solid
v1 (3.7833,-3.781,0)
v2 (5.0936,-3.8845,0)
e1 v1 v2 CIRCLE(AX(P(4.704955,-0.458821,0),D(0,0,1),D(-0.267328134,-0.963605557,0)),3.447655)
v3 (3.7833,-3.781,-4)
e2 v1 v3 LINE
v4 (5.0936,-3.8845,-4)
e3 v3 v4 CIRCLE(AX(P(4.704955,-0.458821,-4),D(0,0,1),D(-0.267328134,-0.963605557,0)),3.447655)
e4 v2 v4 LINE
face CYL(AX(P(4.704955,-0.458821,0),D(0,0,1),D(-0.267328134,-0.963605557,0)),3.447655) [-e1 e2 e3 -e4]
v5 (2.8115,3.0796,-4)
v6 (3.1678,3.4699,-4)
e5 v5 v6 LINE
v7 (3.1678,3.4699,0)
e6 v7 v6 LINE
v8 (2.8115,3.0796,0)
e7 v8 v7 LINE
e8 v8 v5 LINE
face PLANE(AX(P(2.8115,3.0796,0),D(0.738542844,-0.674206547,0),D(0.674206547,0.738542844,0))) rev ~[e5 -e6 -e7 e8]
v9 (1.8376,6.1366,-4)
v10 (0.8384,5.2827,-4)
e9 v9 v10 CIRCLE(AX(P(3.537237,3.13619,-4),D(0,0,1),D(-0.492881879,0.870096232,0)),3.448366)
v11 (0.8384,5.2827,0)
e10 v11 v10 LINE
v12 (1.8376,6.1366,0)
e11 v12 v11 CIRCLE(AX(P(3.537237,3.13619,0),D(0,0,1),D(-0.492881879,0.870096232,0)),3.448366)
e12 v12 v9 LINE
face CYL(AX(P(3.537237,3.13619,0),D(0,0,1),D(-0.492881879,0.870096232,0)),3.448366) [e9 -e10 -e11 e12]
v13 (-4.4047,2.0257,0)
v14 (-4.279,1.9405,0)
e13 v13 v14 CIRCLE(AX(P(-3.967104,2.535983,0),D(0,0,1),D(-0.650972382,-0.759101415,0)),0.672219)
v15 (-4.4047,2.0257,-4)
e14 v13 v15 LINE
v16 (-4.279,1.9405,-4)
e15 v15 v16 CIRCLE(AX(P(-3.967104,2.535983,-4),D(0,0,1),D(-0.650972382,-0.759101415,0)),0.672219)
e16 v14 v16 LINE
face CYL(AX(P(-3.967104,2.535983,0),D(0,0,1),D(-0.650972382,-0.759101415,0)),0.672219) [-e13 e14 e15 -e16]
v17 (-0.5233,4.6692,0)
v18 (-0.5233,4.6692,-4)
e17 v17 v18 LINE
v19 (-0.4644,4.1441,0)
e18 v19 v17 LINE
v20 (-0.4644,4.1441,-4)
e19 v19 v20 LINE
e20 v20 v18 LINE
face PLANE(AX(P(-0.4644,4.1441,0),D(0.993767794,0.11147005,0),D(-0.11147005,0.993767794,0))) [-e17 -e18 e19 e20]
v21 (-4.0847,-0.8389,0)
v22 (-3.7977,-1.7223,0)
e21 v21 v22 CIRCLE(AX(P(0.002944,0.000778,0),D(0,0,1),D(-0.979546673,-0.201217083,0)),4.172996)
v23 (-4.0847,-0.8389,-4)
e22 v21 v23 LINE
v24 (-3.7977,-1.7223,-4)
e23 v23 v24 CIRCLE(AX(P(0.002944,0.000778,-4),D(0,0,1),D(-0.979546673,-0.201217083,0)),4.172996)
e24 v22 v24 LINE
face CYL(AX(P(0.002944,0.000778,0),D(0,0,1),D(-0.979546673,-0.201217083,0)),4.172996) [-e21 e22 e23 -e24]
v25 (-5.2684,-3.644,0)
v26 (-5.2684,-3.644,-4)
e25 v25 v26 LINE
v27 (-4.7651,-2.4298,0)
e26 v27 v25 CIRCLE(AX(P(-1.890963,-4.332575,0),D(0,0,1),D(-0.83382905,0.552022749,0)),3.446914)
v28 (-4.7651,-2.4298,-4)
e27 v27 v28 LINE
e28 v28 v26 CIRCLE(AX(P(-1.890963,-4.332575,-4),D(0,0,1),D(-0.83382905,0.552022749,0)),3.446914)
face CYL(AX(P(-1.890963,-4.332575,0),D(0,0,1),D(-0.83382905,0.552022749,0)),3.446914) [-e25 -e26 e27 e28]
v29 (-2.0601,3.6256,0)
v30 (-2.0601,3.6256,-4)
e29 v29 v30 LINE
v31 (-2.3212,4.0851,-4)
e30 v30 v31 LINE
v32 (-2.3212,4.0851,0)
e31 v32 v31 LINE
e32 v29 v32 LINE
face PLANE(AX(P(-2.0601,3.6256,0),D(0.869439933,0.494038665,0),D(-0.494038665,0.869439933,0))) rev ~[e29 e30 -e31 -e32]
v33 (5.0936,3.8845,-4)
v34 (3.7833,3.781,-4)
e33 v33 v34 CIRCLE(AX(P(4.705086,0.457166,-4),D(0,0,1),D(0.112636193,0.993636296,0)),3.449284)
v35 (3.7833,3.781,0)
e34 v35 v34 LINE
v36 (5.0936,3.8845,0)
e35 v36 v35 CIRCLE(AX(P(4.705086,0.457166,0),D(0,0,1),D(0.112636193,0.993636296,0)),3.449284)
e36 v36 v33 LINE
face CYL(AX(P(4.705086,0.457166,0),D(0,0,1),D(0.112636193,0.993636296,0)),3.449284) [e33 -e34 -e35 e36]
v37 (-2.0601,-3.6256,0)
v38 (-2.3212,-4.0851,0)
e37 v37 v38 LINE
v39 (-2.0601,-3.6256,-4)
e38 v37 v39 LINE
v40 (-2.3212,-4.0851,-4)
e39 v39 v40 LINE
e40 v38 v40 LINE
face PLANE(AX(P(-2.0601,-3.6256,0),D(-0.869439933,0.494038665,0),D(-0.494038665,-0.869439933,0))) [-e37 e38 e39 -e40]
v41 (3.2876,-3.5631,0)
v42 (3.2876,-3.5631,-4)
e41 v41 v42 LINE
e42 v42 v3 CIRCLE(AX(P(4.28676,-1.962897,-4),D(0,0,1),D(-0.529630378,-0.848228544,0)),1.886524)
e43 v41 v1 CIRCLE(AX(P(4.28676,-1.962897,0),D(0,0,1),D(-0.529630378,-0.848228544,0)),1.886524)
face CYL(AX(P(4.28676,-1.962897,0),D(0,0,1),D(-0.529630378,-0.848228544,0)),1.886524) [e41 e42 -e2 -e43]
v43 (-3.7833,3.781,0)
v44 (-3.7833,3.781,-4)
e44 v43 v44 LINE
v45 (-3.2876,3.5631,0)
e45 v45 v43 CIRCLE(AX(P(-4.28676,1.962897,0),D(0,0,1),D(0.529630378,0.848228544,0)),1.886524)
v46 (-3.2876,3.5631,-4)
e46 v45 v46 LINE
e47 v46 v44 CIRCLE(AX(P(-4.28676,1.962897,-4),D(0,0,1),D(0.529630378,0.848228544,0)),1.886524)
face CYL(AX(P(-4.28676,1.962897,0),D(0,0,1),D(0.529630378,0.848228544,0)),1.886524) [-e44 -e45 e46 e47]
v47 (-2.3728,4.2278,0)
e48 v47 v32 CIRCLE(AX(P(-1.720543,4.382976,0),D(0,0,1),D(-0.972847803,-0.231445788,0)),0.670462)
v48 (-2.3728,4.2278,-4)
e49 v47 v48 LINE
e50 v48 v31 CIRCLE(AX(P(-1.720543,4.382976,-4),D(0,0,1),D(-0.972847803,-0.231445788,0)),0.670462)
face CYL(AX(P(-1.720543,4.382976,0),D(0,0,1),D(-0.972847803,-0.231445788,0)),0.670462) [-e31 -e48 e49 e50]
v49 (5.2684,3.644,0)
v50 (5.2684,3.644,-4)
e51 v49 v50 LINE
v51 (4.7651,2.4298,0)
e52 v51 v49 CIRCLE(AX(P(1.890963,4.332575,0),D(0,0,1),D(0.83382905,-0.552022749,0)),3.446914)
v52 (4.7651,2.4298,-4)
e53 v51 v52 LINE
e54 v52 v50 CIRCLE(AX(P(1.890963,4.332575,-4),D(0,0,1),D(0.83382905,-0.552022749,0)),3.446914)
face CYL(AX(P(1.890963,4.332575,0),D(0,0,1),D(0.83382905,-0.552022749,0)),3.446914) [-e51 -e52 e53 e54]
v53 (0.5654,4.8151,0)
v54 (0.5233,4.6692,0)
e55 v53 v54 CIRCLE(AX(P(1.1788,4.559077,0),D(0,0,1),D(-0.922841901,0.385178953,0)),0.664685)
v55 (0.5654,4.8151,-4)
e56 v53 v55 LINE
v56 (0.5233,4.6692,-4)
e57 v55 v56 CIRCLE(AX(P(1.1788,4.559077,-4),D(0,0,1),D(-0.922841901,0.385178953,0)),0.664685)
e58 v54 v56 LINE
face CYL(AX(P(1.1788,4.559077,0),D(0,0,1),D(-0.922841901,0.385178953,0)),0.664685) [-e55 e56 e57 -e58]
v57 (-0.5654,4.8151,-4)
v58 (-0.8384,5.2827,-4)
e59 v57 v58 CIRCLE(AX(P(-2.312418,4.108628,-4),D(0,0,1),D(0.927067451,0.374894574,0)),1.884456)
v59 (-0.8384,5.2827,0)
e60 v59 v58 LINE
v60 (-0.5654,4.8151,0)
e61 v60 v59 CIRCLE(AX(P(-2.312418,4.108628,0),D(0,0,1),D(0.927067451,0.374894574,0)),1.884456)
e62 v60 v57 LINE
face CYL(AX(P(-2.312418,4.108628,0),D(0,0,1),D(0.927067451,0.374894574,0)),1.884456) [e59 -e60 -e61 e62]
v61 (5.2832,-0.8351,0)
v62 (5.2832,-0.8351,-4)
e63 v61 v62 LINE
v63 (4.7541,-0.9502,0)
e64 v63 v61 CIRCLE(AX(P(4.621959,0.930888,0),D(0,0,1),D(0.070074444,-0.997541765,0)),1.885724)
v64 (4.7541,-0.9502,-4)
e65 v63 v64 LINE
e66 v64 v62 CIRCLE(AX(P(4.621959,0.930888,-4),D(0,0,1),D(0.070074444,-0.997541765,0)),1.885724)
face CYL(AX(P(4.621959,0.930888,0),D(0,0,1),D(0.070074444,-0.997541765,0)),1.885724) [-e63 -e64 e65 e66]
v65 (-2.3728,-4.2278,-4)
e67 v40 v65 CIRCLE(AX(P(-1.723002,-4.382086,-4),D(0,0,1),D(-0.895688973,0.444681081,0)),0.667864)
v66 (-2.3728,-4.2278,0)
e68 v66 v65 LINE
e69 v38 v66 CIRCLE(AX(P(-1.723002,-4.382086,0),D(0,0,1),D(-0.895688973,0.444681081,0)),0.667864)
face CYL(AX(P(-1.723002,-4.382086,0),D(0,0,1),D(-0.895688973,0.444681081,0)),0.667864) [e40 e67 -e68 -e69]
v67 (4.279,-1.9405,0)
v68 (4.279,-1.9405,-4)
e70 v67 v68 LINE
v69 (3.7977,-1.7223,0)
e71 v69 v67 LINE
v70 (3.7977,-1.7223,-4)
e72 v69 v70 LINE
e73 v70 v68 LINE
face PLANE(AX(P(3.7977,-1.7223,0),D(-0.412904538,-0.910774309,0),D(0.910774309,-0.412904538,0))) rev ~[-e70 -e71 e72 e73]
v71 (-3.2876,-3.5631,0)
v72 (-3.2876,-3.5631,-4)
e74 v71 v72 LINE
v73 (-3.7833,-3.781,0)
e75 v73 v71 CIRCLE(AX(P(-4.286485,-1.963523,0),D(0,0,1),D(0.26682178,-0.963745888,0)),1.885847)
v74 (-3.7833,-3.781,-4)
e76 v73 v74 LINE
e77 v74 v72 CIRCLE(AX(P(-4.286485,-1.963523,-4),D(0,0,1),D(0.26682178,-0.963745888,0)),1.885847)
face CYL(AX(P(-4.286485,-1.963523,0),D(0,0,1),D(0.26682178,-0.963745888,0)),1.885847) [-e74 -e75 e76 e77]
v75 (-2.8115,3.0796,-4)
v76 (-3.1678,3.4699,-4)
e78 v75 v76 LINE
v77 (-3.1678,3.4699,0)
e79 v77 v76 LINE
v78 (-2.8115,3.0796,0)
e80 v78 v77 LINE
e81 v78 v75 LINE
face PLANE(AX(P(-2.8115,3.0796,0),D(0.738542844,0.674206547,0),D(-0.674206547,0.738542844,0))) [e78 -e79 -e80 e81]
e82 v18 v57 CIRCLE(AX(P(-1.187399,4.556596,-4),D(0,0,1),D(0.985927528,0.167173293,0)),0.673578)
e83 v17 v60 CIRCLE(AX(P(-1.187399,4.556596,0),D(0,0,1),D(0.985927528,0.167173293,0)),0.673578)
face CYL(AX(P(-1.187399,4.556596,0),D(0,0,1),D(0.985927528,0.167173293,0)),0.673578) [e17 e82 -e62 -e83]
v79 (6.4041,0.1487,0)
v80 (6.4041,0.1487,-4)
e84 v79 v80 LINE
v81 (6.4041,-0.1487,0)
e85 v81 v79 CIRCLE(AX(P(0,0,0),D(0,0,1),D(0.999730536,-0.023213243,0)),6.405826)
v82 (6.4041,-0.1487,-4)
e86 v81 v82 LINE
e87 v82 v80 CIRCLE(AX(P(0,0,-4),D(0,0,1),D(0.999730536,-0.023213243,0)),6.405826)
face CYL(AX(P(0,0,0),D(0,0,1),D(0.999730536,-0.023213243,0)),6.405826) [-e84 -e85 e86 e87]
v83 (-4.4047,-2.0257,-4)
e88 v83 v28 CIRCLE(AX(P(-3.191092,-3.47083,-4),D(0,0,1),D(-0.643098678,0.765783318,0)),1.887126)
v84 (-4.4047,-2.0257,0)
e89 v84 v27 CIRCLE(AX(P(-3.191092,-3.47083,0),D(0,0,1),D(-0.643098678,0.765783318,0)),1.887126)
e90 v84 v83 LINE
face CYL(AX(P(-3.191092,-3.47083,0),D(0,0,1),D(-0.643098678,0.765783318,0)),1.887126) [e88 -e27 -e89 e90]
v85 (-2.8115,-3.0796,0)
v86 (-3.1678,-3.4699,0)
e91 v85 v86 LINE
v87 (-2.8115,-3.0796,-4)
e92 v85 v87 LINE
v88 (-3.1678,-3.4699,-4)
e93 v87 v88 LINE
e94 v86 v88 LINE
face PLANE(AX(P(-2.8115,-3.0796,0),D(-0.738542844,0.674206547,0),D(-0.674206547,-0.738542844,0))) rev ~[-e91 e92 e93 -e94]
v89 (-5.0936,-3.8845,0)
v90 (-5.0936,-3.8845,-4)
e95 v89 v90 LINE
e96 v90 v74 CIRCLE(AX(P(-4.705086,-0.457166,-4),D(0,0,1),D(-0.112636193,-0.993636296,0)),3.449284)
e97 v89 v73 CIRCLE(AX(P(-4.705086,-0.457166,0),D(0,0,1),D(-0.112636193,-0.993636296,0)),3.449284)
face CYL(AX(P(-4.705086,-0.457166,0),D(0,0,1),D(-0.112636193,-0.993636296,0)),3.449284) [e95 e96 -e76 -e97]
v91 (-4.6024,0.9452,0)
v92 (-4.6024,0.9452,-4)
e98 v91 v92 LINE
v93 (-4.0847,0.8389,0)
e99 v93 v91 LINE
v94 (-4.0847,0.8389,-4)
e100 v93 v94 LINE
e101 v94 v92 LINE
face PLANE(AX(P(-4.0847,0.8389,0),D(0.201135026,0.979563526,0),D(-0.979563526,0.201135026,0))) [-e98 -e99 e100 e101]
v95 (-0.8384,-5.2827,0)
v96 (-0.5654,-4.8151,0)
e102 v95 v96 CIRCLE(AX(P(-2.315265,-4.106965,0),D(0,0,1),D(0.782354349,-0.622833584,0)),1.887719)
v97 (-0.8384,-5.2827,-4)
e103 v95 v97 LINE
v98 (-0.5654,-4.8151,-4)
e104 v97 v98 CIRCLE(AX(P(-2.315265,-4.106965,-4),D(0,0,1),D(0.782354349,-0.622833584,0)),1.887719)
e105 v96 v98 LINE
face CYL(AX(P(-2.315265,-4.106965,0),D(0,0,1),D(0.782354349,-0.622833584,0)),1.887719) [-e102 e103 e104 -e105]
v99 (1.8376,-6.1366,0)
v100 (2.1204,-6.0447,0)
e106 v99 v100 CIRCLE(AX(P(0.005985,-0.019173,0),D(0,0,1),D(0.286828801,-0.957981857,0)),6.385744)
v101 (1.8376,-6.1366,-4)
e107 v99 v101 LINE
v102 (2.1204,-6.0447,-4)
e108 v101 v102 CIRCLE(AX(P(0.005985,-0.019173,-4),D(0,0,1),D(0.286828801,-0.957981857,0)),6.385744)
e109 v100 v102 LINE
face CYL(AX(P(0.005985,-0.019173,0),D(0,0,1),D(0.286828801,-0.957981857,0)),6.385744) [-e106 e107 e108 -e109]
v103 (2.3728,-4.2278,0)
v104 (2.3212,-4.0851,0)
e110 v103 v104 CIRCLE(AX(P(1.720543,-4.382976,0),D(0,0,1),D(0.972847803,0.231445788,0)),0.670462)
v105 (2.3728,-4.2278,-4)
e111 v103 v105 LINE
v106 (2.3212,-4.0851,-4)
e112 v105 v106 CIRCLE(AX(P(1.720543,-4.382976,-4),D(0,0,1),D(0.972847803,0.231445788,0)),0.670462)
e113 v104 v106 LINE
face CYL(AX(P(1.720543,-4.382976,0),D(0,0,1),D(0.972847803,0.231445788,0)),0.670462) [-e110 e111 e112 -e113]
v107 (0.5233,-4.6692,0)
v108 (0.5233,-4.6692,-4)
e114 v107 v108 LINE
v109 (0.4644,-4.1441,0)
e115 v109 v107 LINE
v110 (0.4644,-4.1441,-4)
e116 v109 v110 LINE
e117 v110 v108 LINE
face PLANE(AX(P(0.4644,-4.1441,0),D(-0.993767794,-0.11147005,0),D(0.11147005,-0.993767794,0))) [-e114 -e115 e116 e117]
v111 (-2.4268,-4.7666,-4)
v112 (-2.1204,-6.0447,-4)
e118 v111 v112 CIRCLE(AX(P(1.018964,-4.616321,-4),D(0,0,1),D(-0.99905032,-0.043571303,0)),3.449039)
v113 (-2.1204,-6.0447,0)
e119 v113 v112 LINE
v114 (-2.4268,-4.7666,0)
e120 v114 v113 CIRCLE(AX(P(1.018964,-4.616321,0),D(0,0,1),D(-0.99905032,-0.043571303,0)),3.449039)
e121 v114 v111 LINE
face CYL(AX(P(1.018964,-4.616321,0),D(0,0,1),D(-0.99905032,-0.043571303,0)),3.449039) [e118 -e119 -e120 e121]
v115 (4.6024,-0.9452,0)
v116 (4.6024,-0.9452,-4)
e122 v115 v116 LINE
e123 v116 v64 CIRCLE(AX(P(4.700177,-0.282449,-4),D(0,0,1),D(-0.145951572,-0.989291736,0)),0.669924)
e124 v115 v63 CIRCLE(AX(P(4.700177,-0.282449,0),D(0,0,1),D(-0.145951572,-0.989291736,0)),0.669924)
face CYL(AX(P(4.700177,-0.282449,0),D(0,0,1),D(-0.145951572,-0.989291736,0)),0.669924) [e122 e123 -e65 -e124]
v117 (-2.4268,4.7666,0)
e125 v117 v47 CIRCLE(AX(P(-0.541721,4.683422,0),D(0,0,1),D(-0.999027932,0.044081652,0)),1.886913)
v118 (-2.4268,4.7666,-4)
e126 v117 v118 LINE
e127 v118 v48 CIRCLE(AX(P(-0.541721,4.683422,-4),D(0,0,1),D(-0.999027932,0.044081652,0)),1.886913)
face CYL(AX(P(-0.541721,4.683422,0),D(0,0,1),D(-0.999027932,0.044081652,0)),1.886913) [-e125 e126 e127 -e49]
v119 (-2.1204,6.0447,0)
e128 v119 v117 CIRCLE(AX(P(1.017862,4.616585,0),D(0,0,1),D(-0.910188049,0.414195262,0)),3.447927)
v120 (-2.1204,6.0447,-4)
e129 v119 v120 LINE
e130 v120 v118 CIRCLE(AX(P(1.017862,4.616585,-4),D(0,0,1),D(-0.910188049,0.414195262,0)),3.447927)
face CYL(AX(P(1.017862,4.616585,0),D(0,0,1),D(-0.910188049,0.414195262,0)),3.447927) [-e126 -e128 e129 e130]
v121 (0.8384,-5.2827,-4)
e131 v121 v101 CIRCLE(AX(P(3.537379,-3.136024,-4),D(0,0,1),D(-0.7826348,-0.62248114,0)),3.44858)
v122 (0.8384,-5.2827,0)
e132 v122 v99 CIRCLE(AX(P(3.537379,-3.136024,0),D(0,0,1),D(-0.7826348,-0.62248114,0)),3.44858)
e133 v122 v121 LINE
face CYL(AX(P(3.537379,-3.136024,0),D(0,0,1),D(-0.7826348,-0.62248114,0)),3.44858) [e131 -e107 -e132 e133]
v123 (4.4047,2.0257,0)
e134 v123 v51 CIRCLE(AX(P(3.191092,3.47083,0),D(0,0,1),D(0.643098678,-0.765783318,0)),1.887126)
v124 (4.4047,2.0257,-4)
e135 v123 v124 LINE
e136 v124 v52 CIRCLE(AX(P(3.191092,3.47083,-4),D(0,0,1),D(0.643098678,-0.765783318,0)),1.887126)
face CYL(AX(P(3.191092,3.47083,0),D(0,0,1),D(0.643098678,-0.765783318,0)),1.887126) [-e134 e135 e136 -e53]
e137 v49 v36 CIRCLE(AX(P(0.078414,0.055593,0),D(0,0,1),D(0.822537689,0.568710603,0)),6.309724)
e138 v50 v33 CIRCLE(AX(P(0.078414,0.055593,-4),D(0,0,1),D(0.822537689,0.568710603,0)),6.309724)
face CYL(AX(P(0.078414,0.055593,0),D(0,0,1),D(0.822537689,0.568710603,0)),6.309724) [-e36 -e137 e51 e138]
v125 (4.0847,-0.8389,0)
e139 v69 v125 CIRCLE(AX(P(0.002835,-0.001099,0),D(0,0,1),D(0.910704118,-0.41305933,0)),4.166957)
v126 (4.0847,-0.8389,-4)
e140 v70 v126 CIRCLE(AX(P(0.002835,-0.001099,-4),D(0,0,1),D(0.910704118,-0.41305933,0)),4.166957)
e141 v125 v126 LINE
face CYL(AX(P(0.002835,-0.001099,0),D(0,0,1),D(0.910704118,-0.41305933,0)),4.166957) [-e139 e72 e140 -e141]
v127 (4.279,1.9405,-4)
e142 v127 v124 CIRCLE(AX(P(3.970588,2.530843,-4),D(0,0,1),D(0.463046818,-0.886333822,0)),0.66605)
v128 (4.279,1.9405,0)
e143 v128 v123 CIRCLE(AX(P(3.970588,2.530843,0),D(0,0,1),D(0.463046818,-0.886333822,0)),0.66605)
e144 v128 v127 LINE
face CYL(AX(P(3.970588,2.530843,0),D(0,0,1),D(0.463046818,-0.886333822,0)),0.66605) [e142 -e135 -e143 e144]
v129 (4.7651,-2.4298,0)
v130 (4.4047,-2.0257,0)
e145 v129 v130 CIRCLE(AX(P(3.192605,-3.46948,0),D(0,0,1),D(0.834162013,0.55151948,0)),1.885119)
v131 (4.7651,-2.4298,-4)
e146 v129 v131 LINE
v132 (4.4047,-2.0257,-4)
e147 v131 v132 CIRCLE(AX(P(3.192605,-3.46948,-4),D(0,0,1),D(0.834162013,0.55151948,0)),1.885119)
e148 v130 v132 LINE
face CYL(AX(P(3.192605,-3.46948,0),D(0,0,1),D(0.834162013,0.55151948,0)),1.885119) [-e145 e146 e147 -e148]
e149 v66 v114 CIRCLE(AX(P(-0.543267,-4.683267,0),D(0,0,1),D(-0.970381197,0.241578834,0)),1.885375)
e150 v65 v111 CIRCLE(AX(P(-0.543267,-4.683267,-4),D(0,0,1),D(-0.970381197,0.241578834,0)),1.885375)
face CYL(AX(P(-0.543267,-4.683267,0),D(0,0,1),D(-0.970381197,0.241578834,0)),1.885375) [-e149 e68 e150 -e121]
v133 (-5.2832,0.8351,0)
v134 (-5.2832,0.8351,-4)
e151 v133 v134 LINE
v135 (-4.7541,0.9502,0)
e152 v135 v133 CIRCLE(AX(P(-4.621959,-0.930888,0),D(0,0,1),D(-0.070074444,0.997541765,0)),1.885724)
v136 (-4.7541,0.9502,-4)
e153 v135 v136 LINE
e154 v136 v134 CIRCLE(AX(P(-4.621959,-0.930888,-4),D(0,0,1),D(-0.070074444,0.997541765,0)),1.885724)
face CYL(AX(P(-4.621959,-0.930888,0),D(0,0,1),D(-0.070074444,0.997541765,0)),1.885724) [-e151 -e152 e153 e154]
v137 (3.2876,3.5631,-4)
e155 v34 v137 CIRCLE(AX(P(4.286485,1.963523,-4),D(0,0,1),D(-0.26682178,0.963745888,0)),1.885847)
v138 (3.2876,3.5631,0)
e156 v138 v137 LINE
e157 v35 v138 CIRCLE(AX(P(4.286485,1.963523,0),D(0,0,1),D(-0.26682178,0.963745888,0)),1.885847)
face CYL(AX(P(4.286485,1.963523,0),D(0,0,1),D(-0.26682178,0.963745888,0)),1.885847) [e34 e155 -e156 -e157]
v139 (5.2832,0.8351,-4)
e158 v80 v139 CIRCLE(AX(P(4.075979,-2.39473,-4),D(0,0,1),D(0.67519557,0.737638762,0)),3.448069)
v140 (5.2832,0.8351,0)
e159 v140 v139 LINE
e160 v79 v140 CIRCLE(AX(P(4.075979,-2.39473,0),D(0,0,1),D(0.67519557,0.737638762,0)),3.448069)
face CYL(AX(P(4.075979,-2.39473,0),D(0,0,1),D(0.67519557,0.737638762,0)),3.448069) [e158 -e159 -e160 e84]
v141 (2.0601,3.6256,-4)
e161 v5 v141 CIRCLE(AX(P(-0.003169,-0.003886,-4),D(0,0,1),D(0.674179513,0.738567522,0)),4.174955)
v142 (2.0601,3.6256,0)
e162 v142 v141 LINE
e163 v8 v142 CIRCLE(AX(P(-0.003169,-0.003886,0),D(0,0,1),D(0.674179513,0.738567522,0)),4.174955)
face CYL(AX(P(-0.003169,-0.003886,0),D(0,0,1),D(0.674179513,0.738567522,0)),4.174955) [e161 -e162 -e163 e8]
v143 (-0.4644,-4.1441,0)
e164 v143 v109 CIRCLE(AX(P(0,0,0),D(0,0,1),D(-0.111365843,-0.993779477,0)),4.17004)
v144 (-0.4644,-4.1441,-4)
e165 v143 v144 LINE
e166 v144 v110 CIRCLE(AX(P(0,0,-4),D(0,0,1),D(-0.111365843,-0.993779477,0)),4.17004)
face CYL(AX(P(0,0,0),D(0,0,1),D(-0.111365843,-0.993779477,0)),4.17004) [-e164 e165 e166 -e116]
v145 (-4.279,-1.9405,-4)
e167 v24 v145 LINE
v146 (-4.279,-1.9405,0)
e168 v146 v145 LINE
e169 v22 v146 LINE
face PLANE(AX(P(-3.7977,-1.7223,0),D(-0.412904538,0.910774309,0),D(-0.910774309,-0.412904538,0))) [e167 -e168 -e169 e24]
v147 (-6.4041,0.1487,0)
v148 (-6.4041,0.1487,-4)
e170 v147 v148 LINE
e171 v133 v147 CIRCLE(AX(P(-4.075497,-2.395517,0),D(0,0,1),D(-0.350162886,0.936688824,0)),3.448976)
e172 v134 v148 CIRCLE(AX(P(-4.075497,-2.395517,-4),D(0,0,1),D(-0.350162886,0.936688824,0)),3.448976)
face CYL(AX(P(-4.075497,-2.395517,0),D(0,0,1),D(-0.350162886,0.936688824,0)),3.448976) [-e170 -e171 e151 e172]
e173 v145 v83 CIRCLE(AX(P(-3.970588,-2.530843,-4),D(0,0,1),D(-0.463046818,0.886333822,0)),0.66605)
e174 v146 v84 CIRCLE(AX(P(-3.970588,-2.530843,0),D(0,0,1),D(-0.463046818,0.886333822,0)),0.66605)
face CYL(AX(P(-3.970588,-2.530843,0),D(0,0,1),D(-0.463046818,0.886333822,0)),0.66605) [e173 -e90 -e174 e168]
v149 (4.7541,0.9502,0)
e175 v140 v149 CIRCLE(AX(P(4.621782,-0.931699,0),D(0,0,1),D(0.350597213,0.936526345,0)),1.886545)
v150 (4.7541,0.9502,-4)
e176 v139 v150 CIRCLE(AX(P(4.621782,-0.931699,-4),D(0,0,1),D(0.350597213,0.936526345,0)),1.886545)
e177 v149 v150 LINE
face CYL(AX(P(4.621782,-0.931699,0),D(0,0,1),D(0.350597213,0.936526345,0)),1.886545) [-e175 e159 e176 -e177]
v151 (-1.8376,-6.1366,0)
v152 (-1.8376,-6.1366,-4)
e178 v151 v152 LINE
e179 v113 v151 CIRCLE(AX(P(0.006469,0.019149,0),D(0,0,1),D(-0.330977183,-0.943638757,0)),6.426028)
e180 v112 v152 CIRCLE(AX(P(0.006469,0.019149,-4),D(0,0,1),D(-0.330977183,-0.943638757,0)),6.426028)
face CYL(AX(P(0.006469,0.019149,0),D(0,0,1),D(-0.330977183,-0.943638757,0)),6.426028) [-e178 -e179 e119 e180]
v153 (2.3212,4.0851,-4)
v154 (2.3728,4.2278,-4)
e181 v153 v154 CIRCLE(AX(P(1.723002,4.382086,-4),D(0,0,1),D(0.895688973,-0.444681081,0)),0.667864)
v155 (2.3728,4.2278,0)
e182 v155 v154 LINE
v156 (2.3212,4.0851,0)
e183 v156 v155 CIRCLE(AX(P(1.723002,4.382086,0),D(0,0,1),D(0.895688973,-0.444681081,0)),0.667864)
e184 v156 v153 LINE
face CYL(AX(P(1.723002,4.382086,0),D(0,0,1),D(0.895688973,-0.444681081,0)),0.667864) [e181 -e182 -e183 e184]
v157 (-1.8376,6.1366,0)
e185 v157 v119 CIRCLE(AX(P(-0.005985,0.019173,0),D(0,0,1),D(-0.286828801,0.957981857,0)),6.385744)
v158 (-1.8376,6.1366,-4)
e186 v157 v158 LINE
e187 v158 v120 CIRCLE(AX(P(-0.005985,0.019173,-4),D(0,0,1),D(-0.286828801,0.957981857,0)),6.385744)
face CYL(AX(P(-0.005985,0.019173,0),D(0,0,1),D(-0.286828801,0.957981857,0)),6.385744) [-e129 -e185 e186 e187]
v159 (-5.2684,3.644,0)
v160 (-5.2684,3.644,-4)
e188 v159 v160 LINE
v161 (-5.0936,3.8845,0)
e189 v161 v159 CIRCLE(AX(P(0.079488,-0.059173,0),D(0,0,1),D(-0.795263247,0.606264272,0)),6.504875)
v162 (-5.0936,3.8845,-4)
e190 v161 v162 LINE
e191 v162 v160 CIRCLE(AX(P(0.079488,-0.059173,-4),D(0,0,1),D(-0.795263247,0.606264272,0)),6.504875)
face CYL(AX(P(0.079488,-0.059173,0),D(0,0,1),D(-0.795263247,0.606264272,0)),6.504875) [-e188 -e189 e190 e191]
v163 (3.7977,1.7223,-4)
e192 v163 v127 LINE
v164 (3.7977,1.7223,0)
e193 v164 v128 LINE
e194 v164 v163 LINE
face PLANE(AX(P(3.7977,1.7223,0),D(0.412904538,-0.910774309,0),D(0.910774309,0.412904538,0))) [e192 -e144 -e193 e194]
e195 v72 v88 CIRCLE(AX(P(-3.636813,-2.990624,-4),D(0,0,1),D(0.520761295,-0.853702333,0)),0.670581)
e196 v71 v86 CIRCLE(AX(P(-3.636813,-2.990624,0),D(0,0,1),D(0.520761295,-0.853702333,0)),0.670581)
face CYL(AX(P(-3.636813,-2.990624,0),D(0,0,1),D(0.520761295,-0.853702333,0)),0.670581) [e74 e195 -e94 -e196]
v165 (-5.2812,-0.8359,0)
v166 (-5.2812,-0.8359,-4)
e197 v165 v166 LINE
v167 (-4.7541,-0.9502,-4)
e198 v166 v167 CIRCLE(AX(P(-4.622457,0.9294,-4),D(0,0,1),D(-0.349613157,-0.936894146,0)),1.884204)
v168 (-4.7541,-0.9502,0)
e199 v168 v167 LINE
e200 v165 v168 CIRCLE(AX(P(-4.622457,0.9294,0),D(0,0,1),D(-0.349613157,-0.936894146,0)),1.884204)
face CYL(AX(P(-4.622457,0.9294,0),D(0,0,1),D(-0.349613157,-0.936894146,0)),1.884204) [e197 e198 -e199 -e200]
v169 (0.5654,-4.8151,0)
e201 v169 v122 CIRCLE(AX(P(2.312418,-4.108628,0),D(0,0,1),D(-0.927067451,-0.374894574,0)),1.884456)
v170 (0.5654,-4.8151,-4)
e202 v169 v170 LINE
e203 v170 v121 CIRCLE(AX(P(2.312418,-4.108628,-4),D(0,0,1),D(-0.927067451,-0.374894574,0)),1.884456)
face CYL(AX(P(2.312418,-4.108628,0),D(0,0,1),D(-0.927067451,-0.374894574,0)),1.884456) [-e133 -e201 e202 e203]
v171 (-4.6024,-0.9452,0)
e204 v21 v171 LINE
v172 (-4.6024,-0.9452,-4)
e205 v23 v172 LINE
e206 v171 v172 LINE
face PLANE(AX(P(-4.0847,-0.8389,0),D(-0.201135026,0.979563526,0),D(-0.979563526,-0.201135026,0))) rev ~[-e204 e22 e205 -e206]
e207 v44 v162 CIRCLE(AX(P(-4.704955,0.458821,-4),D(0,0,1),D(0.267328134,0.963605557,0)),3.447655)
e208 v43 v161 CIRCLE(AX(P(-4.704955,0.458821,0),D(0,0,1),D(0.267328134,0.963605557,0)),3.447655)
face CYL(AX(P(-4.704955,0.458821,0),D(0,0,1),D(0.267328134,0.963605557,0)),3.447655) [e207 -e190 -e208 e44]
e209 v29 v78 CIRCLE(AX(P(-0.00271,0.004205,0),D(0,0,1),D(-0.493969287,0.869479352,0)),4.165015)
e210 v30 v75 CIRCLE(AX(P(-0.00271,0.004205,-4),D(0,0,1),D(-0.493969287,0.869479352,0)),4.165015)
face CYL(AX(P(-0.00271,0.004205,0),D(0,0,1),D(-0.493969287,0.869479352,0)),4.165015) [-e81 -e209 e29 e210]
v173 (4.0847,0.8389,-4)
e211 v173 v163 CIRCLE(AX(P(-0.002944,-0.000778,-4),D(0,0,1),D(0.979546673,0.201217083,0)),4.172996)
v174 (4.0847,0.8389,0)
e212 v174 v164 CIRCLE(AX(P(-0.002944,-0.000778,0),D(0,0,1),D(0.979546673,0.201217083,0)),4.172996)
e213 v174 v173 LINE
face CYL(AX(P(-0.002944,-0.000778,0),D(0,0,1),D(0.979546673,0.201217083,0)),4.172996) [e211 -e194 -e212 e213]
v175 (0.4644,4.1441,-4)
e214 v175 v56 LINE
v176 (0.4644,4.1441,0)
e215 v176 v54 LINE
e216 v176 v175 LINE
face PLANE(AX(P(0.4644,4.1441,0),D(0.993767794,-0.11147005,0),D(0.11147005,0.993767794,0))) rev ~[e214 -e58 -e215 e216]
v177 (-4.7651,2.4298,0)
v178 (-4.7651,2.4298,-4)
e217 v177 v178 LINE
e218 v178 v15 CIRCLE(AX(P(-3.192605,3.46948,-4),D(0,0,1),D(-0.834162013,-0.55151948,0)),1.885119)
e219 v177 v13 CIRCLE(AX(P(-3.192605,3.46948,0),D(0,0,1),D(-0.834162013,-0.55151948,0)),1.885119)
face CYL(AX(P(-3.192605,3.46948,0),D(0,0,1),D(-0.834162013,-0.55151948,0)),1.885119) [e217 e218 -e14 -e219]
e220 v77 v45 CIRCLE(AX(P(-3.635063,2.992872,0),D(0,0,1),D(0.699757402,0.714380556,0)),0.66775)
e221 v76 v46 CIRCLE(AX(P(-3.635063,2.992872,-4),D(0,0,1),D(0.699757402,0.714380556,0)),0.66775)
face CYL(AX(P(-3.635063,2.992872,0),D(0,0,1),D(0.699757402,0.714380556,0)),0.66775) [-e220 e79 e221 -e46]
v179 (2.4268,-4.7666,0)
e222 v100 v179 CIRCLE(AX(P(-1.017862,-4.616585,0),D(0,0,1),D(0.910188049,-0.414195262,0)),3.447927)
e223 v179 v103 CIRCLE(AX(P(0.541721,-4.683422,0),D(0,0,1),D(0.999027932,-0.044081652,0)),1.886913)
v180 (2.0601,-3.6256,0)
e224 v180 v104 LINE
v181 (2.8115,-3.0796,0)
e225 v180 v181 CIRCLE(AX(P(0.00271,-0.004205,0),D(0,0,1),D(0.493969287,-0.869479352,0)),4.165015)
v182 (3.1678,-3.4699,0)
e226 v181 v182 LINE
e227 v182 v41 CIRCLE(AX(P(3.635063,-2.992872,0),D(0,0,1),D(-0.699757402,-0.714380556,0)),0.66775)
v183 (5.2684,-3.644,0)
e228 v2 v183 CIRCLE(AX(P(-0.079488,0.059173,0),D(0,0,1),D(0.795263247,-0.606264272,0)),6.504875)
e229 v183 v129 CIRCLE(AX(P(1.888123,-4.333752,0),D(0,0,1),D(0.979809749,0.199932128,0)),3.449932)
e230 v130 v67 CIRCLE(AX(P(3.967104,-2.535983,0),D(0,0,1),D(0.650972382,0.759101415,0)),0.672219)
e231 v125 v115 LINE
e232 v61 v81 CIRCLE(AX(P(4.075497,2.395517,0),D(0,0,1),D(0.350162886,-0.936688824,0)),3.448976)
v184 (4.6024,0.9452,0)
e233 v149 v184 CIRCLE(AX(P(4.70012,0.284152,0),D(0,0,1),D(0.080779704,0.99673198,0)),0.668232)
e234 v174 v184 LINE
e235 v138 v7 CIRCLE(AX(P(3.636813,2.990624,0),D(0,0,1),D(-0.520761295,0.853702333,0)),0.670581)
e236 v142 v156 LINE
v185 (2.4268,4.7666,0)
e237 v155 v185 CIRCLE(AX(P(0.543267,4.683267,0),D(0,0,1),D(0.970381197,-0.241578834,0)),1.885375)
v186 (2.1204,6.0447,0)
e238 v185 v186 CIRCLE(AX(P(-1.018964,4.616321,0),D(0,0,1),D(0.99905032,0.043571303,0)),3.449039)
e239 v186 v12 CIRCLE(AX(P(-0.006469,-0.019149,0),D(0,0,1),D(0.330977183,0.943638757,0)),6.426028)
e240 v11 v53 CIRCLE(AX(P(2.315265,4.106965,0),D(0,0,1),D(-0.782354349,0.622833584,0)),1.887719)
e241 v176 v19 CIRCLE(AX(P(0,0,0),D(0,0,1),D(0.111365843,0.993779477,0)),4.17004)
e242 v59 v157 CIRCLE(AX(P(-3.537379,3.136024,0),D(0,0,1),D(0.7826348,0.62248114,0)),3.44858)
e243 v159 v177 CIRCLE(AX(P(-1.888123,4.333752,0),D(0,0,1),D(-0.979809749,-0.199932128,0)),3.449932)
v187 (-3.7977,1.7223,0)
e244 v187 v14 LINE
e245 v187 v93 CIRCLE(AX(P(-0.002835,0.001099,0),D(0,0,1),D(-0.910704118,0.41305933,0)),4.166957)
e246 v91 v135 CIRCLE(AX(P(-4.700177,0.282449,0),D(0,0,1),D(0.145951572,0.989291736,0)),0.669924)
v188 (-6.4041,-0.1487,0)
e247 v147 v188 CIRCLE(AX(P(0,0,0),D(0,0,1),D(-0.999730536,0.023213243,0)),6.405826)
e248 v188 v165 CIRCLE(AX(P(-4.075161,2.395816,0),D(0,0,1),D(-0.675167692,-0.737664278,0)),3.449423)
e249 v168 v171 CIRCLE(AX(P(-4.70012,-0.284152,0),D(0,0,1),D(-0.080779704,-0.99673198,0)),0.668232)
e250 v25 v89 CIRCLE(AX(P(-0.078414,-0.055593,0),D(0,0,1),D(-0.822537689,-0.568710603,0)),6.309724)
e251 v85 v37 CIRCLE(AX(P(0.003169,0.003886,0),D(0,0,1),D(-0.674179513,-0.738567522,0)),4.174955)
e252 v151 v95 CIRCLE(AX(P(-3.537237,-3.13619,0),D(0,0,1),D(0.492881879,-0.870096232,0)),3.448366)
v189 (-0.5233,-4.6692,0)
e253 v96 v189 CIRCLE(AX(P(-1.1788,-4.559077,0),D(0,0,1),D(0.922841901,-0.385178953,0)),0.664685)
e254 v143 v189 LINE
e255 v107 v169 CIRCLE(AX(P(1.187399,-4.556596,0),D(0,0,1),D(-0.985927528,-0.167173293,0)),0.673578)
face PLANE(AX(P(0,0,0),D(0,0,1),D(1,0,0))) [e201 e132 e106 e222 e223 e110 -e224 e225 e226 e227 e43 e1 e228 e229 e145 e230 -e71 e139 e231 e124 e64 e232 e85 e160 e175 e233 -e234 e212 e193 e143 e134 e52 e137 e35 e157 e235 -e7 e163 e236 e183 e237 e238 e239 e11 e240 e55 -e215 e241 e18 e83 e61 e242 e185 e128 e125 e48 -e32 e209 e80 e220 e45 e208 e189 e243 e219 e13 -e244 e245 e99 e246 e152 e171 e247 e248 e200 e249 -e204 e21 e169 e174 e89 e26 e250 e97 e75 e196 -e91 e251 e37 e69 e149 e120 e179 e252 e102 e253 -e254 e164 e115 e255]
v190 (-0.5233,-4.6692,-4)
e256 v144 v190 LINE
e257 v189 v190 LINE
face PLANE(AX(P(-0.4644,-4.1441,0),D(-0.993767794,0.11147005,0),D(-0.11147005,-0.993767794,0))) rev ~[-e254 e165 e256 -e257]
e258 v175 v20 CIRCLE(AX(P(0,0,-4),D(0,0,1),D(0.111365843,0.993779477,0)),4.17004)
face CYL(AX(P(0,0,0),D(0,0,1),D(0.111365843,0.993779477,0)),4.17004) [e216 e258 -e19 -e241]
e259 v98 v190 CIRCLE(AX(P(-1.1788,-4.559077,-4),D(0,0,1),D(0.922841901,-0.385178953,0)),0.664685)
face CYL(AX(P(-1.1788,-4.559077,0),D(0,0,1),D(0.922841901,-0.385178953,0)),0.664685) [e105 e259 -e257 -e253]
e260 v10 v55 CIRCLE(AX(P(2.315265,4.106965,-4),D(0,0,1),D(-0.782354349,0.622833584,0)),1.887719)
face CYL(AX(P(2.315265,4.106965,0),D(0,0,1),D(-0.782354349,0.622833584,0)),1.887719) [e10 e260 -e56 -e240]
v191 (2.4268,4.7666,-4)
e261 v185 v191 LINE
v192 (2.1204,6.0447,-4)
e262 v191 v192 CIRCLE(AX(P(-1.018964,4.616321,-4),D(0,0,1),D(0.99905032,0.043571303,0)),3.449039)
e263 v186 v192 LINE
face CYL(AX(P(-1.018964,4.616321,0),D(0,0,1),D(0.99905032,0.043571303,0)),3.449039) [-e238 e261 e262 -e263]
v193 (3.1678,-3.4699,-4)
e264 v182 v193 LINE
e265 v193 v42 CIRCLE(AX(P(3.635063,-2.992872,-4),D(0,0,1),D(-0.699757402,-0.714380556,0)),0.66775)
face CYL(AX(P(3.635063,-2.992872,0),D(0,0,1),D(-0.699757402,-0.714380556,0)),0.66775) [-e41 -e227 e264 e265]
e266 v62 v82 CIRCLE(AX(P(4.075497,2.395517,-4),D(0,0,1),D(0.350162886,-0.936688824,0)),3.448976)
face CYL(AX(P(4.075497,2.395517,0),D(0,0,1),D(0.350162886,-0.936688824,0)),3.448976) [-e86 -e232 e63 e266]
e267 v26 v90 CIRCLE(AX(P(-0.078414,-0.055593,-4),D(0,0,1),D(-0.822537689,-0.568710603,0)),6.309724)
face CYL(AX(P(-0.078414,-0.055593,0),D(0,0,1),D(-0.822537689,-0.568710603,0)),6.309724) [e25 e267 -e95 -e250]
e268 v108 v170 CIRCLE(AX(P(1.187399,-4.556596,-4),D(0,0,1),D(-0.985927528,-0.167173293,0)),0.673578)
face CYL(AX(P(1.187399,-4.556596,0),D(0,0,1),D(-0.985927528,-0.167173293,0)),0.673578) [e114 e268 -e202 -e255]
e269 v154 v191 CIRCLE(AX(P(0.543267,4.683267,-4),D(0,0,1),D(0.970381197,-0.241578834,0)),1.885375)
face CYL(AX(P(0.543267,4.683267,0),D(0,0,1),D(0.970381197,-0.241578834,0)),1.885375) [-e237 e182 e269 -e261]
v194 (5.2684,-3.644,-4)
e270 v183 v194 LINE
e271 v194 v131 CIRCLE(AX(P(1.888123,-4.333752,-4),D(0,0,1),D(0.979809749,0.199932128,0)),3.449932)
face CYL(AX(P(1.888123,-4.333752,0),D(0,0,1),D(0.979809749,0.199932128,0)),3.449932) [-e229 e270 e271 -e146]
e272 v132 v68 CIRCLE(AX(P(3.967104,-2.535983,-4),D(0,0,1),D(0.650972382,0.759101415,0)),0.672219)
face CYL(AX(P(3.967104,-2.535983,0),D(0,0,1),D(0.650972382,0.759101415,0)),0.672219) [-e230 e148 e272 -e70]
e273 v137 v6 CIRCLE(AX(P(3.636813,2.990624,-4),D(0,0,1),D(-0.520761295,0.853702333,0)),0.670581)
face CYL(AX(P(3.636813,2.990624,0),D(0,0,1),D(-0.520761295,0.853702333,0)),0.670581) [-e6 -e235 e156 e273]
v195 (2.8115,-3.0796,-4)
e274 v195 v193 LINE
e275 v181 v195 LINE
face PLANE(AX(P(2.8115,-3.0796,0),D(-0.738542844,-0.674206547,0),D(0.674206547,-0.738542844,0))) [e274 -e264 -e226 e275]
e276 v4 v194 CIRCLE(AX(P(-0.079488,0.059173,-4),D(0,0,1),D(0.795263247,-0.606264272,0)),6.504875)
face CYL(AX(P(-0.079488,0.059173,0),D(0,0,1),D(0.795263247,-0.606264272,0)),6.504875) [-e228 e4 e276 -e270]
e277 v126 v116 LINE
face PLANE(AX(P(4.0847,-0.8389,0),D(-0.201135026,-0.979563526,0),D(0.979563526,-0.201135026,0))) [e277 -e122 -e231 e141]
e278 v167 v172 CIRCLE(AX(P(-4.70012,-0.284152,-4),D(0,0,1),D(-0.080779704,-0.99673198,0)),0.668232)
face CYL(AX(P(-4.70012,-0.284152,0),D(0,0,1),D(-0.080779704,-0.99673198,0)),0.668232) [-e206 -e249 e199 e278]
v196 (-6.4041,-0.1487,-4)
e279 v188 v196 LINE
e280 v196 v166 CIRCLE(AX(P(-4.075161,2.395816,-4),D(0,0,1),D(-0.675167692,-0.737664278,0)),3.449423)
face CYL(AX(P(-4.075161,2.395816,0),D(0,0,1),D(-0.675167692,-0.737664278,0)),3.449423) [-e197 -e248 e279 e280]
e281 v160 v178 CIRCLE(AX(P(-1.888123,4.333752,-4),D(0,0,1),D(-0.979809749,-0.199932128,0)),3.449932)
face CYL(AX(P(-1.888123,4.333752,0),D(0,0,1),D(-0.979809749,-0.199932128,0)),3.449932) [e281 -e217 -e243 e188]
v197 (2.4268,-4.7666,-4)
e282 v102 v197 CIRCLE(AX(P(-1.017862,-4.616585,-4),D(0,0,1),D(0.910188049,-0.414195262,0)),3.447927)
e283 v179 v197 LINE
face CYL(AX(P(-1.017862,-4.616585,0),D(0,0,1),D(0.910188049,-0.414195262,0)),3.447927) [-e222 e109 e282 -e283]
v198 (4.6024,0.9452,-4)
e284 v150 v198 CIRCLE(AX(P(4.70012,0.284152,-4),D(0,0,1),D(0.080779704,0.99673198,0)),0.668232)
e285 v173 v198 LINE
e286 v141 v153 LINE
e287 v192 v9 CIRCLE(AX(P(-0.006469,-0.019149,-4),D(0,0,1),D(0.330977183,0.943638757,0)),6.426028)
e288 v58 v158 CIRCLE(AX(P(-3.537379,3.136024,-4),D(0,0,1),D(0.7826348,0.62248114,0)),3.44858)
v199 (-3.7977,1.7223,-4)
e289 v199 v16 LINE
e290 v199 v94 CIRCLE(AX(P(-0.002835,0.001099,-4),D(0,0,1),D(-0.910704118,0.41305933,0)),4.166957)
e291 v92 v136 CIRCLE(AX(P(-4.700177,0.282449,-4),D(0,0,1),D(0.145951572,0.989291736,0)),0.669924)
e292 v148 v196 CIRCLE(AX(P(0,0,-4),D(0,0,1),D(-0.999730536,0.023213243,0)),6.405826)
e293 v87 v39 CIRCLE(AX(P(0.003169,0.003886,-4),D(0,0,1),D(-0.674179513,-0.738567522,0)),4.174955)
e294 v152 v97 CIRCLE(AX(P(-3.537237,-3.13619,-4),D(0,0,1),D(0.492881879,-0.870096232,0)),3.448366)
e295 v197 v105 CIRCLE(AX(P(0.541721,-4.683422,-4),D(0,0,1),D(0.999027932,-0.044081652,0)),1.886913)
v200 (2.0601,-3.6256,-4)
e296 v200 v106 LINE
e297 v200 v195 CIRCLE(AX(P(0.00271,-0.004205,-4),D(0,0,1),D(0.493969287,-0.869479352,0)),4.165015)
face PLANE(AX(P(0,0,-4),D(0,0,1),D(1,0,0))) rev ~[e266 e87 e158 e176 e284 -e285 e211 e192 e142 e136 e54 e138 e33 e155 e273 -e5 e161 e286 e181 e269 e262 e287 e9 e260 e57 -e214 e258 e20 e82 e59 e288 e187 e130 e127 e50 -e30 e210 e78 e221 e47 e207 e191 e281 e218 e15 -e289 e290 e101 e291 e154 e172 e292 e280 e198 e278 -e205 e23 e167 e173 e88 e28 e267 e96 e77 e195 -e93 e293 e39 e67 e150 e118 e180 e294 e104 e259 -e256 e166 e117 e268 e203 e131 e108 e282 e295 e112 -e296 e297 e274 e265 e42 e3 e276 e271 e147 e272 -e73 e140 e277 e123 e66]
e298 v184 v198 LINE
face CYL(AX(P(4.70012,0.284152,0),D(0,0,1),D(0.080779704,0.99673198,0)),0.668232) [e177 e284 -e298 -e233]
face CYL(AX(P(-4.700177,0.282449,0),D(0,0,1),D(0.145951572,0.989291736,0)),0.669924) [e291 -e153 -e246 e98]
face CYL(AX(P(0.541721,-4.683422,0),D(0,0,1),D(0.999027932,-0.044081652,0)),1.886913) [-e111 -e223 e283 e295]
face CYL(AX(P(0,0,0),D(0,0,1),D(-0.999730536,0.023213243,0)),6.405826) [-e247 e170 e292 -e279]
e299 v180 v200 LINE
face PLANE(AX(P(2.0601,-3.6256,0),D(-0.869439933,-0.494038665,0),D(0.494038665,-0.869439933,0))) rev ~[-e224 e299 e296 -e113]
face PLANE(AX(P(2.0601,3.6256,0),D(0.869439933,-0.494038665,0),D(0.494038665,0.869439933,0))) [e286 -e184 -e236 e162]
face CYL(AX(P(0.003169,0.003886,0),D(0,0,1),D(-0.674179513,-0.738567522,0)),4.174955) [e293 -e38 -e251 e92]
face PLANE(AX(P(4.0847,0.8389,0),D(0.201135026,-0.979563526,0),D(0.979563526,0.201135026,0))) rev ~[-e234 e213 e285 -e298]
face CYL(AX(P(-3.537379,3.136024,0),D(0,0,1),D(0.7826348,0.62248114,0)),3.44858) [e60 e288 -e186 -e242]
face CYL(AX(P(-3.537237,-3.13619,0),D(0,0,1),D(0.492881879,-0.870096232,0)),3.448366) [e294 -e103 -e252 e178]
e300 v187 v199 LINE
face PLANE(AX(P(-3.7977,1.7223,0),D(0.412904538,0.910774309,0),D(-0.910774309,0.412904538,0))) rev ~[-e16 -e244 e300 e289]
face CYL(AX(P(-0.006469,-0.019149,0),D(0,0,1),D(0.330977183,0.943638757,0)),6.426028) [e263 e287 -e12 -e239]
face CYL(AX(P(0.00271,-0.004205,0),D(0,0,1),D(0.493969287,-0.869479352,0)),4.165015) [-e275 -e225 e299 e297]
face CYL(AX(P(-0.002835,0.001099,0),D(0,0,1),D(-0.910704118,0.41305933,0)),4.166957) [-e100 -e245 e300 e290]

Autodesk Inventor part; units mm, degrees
ref_plane "YZ Plane" through (0, 0, 0) normal (1, 0, 0) x (0, 1, 0)
ref_plane "XZ Plane" through (0, 0, 0) normal (0, 1, 0) x (-1, 0, 0)
ref_plane "XY Plane" through (0, 0, 0) normal (0, 0, 1) x (1, 0, 0)
sketch "Sketch2" plane through (0, 0, 0) normal (0, 0, 1) x (1, 0, 0)
  arc A0 (0.5654, 4.8151) -> (0.5233, 4.6692) centre (1.183, 4.5576) ccw
  arc A1 (0.8384, 5.2827) -> (0.5654, 4.8151) centre (2.3139, 4.1079) ccw
  arc A2 (1.8376, 6.1366) -> (0.8384, 5.2827) centre (3.5373, 3.1361) ccw
  arc A3 (-2.3728, 4.2278) -> (-2.3212, 4.0851) centre (-1.7218, 4.3826) ccw
  arc A4 (-2.4268, 4.7666) -> (-2.3728, 4.2278) centre (-0.5425, 4.6834) ccw
  arc A5 (-2.1204, 6.0447) -> (-2.4268, 4.7666) centre (1.0184, 4.6164) ccw
  arc A6 (-4.4047, 2.0257) -> (-4.279, 1.9405) centre (-3.969, 2.5335) ccw
  arc A7 (-4.7651, 2.4298) -> (-4.4047, 2.0257) centre (-3.1918, 3.4701) ccw
  arc A8 (-5.2684, 3.644) -> (-4.7651, 2.4298) centre (-1.8896, 4.3333) ccw
  arc A9 (-4.7541, -0.9502) -> (-4.6024, -0.9452) centre (-4.7001, -0.2833) ccw
  arc A10 (-5.2812, -0.8359) -> (-4.7541, -0.9502) centre (-4.6219, 0.9313) ccw
  arc A11 (-6.4041, -0.1487) -> (-5.2812, -0.8359) centre (-4.0757, 2.3951) ccw
  arc A12 (-3.2876, -3.5631) -> (-3.1678, -3.4699) centre (-3.636, -2.9918) ccw
  arc A13 (-3.7833, -3.781) -> (-3.2876, -3.5631) centre (-4.2866, -1.9632) ccw
  arc A14 (-5.0936, -3.8845) -> (-3.7833, -3.781) centre (-4.7051, -0.458) ccw
  arc A15 (-0.5654, -4.8151) -> (-0.5233, -4.6692) centre (-1.183, -4.5576) ccw
  arc A16 (-0.8384, -5.2827) -> (-0.5654, -4.8151) centre (-2.3139, -4.1079) ccw
  arc A17 (-1.8376, -6.1366) -> (-0.8384, -5.2827) centre (-3.5373, -3.1361) ccw
  arc A18 (2.3728, -4.2278) -> (2.3212, -4.0851) centre (1.7218, -4.3826) ccw
  arc A19 (2.4268, -4.7666) -> (2.3728, -4.2278) centre (0.5425, -4.6834) ccw
  arc A20 (2.1204, -6.0447) -> (2.4268, -4.7666) centre (-1.0184, -4.6164) ccw
  arc A21 (4.4047, -2.0257) -> (4.279, -1.9405) centre (3.969, -2.5335) ccw
  arc A22 (4.7651, -2.4298) -> (4.4047, -2.0257) centre (3.1918, -3.4701) ccw
  arc A23 (5.2684, -3.644) -> (4.7651, -2.4298) centre (1.8896, -4.3333) ccw
  arc A24 (4.7541, 0.9502) -> (4.6024, 0.9452) centre (4.7001, 0.2833) ccw
  arc A25 (5.2832, 0.8351) -> (4.7541, 0.9502) centre (4.6219, -0.9313) ccw
  arc A26 (6.4041, 0.1487) -> (5.2832, 0.8351) centre (4.0757, -2.3951) ccw
  arc A27 (3.2876, 3.5631) -> (3.1678, 3.4699) centre (3.636, 2.9918) ccw
  arc A28 (3.7833, 3.781) -> (3.2876, 3.5631) centre (4.2866, 1.9632) ccw
  arc A29 (5.0936, 3.8845) -> (3.7833, 3.781) centre (4.7051, 0.458) ccw
  arc A30 (-0.5233, 4.6692) -> (-0.5654, 4.8151) centre (-1.183, 4.5576) ccw
  arc A31 (-0.5654, 4.8151) -> (-0.8384, 5.2827) centre (-2.3139, 4.1079) ccw
  arc A32 (-0.8384, 5.2827) -> (-1.8376, 6.1366) centre (-3.5373, 3.1361) ccw
  arc A33 (-3.1678, 3.4699) -> (-3.2876, 3.5631) centre (-3.636, 2.9918) ccw
  arc A34 (-3.2876, 3.5631) -> (-3.7833, 3.781) centre (-4.2866, 1.9632) ccw
  arc A35 (-3.7833, 3.781) -> (-5.0936, 3.8845) centre (-4.7051, 0.458) ccw
  arc A36 (-4.6024, 0.9452) -> (-4.7541, 0.9502) centre (-4.7001, 0.2833) ccw
  arc A37 (-4.7541, 0.9502) -> (-5.2832, 0.8351) centre (-4.6219, -0.9313) ccw
  arc A38 (-5.2832, 0.8351) -> (-6.4041, 0.1487) centre (-4.0757, -2.3951) ccw
  arc A39 (-4.279, -1.9405) -> (-4.4047, -2.0257) centre (-3.969, -2.5335) ccw
  arc A40 (-4.4047, -2.0257) -> (-4.7651, -2.4298) centre (-3.1918, -3.4701) ccw
  arc A41 (-4.7651, -2.4298) -> (-5.2684, -3.644) centre (-1.8896, -4.3333) ccw
  arc A42 (-2.3212, -4.0851) -> (-2.3728, -4.2278) centre (-1.7218, -4.3826) ccw
  arc A43 (-2.3728, -4.2278) -> (-2.4268, -4.7666) centre (-0.5425, -4.6834) ccw
  arc A44 (-2.4268, -4.7666) -> (-2.1204, -6.0447) centre (1.0184, -4.6164) ccw
  arc A45 (0.5233, -4.6692) -> (0.5654, -4.8151) centre (1.183, -4.5576) ccw
  arc A46 (0.5654, -4.8151) -> (0.8384, -5.2827) centre (2.3139, -4.1079) ccw
  arc A47 (0.8384, -5.2827) -> (1.8376, -6.1366) centre (3.5373, -3.1361) ccw
  arc A48 (3.1678, -3.4699) -> (3.2876, -3.5631) centre (3.636, -2.9918) ccw
  arc A49 (3.2876, -3.5631) -> (3.7833, -3.781) centre (4.2866, -1.9632) ccw
  arc A50 (3.7833, -3.781) -> (5.0936, -3.8845) centre (4.7051, -0.458) ccw
  arc A51 (4.6024, -0.9452) -> (4.7541, -0.9502) centre (4.7001, -0.2833) ccw
  arc A52 (4.7541, -0.9502) -> (5.2832, -0.8351) centre (4.6219, 0.9313) ccw
  arc A53 (5.2832, -0.8351) -> (6.4041, -0.1487) centre (4.0757, 2.3951) ccw
  arc A54 (4.279, 1.9405) -> (4.4047, 2.0257) centre (3.969, 2.5335) ccw
  arc A55 (4.4047, 2.0257) -> (4.7651, 2.4298) centre (3.1918, 3.4701) ccw
  arc A56 (4.7651, 2.4298) -> (5.2684, 3.644) centre (1.8896, 4.3333) ccw
  arc A57 (2.3212, 4.0851) -> (2.3728, 4.2278) centre (1.7218, 4.3826) ccw
  arc A58 (2.3728, 4.2278) -> (2.4268, 4.7666) centre (0.5425, 4.6834) ccw
  arc A59 (2.4268, 4.7666) -> (2.1204, 6.0447) centre (-1.0184, 4.6164) ccw
  arc A60 (0.4644, 4.1441) -> (-0.4644, 4.1441) centre (0, 0) ccw
  arc A61 (-2.0601, 3.6256) -> (-2.8115, 3.0796) centre (0, 0) ccw
  arc A62 (-3.7977, 1.7223) -> (-4.0847, 0.8389) centre (0, 0) ccw
  arc A63 (-4.0847, -0.8389) -> (-3.7977, -1.7223) centre (0, 0) ccw
  arc A64 (-2.8115, -3.0796) -> (-2.0601, -3.6256) centre (0, 0) ccw
  arc A65 (-0.4644, -4.1441) -> (0.4644, -4.1441) centre (0, 0) ccw
  arc A66 (2.0601, -3.6256) -> (2.8115, -3.0796) centre (0, 0) ccw
  arc A67 (3.7977, -1.7223) -> (4.0847, -0.8389) centre (0, 0) ccw
  arc A68 (4.0847, 0.8389) -> (3.7977, 1.7223) centre (0, 0) ccw
  arc A69 (2.8115, 3.0796) -> (2.0601, 3.6256) centre (0, 0) ccw
  arc A70 (-1.8376, 6.1366) -> (-2.1204, 6.0447) centre (0, 0) ccw
  arc A71 (-5.0936, 3.8845) -> (-5.2684, 3.644) centre (0, 0) ccw
  arc A72 (-6.4041, 0.1487) -> (-6.4041, -0.1487) centre (0, 0) ccw
  arc A73 (-5.2684, -3.644) -> (-5.0936, -3.8845) centre (0, 0) ccw
  arc A74 (-2.1204, -6.0447) -> (-1.8376, -6.1366) centre (0, 0) ccw
  arc A75 (1.8376, -6.1366) -> (2.1204, -6.0447) centre (0, 0) ccw
  arc A76 (5.0936, -3.8845) -> (5.2684, -3.644) centre (0, 0) ccw
  arc A77 (6.4041, -0.1487) -> (6.4041, 0.1487) centre (0, 0) ccw
  arc A78 (5.2684, 3.644) -> (5.0936, 3.8845) centre (0, 0) ccw
  arc A79 (2.1204, 6.0447) -> (1.8376, 6.1366) centre (0, 0) ccw
  line L0 (0.4644, 4.1441) -> (0.5233, 4.6692)
  line L1 (-2.0601, 3.6256) -> (-2.3212, 4.0851)
  line L2 (-3.7977, 1.7223) -> (-4.279, 1.9405)
  line L3 (-4.0847, -0.8389) -> (-4.6024, -0.9452)
  line L4 (-2.8115, -3.0796) -> (-3.1678, -3.4699)
  line L5 (-0.4644, -4.1441) -> (-0.5233, -4.6692)
  line L6 (2.0601, -3.6256) -> (2.3212, -4.0851)
  line L7 (3.7977, -1.7223) -> (4.279, -1.9405)
  line L8 (4.0847, 0.8389) -> (4.6024, 0.9452)
  line L9 (2.8115, 3.0796) -> (3.1678, 3.4699)
  line L10 (-0.4644, 4.1441) -> (-0.5233, 4.6692)
  line L11 (-2.8115, 3.0796) -> (-3.1678, 3.4699)
  line L12 (-4.0847, 0.8389) -> (-4.6024, 0.9452)
  line L13 (-3.7977, -1.7223) -> (-4.279, -1.9405)
  line L14 (-2.0601, -3.6256) -> (-2.3212, -4.0851)
  line L15 (0.4644, -4.1441) -> (0.5233, -4.6692)
  line L16 (2.8115, -3.0796) -> (3.1678, -3.4699)
  line L17 (4.0847, -0.8389) -> (4.6024, -0.9452)
  line L18 (3.7977, 1.7223) -> (4.279, 1.9405)
  line L19 (2.0601, 3.6256) -> (2.3212, 4.0851)
  point P0 (0, 0)
extrude "Extrusion1" add sketch "Sketch2" against normal blind 4
properties part number "初段多段z10" material "Aluminum 2014-T6"
